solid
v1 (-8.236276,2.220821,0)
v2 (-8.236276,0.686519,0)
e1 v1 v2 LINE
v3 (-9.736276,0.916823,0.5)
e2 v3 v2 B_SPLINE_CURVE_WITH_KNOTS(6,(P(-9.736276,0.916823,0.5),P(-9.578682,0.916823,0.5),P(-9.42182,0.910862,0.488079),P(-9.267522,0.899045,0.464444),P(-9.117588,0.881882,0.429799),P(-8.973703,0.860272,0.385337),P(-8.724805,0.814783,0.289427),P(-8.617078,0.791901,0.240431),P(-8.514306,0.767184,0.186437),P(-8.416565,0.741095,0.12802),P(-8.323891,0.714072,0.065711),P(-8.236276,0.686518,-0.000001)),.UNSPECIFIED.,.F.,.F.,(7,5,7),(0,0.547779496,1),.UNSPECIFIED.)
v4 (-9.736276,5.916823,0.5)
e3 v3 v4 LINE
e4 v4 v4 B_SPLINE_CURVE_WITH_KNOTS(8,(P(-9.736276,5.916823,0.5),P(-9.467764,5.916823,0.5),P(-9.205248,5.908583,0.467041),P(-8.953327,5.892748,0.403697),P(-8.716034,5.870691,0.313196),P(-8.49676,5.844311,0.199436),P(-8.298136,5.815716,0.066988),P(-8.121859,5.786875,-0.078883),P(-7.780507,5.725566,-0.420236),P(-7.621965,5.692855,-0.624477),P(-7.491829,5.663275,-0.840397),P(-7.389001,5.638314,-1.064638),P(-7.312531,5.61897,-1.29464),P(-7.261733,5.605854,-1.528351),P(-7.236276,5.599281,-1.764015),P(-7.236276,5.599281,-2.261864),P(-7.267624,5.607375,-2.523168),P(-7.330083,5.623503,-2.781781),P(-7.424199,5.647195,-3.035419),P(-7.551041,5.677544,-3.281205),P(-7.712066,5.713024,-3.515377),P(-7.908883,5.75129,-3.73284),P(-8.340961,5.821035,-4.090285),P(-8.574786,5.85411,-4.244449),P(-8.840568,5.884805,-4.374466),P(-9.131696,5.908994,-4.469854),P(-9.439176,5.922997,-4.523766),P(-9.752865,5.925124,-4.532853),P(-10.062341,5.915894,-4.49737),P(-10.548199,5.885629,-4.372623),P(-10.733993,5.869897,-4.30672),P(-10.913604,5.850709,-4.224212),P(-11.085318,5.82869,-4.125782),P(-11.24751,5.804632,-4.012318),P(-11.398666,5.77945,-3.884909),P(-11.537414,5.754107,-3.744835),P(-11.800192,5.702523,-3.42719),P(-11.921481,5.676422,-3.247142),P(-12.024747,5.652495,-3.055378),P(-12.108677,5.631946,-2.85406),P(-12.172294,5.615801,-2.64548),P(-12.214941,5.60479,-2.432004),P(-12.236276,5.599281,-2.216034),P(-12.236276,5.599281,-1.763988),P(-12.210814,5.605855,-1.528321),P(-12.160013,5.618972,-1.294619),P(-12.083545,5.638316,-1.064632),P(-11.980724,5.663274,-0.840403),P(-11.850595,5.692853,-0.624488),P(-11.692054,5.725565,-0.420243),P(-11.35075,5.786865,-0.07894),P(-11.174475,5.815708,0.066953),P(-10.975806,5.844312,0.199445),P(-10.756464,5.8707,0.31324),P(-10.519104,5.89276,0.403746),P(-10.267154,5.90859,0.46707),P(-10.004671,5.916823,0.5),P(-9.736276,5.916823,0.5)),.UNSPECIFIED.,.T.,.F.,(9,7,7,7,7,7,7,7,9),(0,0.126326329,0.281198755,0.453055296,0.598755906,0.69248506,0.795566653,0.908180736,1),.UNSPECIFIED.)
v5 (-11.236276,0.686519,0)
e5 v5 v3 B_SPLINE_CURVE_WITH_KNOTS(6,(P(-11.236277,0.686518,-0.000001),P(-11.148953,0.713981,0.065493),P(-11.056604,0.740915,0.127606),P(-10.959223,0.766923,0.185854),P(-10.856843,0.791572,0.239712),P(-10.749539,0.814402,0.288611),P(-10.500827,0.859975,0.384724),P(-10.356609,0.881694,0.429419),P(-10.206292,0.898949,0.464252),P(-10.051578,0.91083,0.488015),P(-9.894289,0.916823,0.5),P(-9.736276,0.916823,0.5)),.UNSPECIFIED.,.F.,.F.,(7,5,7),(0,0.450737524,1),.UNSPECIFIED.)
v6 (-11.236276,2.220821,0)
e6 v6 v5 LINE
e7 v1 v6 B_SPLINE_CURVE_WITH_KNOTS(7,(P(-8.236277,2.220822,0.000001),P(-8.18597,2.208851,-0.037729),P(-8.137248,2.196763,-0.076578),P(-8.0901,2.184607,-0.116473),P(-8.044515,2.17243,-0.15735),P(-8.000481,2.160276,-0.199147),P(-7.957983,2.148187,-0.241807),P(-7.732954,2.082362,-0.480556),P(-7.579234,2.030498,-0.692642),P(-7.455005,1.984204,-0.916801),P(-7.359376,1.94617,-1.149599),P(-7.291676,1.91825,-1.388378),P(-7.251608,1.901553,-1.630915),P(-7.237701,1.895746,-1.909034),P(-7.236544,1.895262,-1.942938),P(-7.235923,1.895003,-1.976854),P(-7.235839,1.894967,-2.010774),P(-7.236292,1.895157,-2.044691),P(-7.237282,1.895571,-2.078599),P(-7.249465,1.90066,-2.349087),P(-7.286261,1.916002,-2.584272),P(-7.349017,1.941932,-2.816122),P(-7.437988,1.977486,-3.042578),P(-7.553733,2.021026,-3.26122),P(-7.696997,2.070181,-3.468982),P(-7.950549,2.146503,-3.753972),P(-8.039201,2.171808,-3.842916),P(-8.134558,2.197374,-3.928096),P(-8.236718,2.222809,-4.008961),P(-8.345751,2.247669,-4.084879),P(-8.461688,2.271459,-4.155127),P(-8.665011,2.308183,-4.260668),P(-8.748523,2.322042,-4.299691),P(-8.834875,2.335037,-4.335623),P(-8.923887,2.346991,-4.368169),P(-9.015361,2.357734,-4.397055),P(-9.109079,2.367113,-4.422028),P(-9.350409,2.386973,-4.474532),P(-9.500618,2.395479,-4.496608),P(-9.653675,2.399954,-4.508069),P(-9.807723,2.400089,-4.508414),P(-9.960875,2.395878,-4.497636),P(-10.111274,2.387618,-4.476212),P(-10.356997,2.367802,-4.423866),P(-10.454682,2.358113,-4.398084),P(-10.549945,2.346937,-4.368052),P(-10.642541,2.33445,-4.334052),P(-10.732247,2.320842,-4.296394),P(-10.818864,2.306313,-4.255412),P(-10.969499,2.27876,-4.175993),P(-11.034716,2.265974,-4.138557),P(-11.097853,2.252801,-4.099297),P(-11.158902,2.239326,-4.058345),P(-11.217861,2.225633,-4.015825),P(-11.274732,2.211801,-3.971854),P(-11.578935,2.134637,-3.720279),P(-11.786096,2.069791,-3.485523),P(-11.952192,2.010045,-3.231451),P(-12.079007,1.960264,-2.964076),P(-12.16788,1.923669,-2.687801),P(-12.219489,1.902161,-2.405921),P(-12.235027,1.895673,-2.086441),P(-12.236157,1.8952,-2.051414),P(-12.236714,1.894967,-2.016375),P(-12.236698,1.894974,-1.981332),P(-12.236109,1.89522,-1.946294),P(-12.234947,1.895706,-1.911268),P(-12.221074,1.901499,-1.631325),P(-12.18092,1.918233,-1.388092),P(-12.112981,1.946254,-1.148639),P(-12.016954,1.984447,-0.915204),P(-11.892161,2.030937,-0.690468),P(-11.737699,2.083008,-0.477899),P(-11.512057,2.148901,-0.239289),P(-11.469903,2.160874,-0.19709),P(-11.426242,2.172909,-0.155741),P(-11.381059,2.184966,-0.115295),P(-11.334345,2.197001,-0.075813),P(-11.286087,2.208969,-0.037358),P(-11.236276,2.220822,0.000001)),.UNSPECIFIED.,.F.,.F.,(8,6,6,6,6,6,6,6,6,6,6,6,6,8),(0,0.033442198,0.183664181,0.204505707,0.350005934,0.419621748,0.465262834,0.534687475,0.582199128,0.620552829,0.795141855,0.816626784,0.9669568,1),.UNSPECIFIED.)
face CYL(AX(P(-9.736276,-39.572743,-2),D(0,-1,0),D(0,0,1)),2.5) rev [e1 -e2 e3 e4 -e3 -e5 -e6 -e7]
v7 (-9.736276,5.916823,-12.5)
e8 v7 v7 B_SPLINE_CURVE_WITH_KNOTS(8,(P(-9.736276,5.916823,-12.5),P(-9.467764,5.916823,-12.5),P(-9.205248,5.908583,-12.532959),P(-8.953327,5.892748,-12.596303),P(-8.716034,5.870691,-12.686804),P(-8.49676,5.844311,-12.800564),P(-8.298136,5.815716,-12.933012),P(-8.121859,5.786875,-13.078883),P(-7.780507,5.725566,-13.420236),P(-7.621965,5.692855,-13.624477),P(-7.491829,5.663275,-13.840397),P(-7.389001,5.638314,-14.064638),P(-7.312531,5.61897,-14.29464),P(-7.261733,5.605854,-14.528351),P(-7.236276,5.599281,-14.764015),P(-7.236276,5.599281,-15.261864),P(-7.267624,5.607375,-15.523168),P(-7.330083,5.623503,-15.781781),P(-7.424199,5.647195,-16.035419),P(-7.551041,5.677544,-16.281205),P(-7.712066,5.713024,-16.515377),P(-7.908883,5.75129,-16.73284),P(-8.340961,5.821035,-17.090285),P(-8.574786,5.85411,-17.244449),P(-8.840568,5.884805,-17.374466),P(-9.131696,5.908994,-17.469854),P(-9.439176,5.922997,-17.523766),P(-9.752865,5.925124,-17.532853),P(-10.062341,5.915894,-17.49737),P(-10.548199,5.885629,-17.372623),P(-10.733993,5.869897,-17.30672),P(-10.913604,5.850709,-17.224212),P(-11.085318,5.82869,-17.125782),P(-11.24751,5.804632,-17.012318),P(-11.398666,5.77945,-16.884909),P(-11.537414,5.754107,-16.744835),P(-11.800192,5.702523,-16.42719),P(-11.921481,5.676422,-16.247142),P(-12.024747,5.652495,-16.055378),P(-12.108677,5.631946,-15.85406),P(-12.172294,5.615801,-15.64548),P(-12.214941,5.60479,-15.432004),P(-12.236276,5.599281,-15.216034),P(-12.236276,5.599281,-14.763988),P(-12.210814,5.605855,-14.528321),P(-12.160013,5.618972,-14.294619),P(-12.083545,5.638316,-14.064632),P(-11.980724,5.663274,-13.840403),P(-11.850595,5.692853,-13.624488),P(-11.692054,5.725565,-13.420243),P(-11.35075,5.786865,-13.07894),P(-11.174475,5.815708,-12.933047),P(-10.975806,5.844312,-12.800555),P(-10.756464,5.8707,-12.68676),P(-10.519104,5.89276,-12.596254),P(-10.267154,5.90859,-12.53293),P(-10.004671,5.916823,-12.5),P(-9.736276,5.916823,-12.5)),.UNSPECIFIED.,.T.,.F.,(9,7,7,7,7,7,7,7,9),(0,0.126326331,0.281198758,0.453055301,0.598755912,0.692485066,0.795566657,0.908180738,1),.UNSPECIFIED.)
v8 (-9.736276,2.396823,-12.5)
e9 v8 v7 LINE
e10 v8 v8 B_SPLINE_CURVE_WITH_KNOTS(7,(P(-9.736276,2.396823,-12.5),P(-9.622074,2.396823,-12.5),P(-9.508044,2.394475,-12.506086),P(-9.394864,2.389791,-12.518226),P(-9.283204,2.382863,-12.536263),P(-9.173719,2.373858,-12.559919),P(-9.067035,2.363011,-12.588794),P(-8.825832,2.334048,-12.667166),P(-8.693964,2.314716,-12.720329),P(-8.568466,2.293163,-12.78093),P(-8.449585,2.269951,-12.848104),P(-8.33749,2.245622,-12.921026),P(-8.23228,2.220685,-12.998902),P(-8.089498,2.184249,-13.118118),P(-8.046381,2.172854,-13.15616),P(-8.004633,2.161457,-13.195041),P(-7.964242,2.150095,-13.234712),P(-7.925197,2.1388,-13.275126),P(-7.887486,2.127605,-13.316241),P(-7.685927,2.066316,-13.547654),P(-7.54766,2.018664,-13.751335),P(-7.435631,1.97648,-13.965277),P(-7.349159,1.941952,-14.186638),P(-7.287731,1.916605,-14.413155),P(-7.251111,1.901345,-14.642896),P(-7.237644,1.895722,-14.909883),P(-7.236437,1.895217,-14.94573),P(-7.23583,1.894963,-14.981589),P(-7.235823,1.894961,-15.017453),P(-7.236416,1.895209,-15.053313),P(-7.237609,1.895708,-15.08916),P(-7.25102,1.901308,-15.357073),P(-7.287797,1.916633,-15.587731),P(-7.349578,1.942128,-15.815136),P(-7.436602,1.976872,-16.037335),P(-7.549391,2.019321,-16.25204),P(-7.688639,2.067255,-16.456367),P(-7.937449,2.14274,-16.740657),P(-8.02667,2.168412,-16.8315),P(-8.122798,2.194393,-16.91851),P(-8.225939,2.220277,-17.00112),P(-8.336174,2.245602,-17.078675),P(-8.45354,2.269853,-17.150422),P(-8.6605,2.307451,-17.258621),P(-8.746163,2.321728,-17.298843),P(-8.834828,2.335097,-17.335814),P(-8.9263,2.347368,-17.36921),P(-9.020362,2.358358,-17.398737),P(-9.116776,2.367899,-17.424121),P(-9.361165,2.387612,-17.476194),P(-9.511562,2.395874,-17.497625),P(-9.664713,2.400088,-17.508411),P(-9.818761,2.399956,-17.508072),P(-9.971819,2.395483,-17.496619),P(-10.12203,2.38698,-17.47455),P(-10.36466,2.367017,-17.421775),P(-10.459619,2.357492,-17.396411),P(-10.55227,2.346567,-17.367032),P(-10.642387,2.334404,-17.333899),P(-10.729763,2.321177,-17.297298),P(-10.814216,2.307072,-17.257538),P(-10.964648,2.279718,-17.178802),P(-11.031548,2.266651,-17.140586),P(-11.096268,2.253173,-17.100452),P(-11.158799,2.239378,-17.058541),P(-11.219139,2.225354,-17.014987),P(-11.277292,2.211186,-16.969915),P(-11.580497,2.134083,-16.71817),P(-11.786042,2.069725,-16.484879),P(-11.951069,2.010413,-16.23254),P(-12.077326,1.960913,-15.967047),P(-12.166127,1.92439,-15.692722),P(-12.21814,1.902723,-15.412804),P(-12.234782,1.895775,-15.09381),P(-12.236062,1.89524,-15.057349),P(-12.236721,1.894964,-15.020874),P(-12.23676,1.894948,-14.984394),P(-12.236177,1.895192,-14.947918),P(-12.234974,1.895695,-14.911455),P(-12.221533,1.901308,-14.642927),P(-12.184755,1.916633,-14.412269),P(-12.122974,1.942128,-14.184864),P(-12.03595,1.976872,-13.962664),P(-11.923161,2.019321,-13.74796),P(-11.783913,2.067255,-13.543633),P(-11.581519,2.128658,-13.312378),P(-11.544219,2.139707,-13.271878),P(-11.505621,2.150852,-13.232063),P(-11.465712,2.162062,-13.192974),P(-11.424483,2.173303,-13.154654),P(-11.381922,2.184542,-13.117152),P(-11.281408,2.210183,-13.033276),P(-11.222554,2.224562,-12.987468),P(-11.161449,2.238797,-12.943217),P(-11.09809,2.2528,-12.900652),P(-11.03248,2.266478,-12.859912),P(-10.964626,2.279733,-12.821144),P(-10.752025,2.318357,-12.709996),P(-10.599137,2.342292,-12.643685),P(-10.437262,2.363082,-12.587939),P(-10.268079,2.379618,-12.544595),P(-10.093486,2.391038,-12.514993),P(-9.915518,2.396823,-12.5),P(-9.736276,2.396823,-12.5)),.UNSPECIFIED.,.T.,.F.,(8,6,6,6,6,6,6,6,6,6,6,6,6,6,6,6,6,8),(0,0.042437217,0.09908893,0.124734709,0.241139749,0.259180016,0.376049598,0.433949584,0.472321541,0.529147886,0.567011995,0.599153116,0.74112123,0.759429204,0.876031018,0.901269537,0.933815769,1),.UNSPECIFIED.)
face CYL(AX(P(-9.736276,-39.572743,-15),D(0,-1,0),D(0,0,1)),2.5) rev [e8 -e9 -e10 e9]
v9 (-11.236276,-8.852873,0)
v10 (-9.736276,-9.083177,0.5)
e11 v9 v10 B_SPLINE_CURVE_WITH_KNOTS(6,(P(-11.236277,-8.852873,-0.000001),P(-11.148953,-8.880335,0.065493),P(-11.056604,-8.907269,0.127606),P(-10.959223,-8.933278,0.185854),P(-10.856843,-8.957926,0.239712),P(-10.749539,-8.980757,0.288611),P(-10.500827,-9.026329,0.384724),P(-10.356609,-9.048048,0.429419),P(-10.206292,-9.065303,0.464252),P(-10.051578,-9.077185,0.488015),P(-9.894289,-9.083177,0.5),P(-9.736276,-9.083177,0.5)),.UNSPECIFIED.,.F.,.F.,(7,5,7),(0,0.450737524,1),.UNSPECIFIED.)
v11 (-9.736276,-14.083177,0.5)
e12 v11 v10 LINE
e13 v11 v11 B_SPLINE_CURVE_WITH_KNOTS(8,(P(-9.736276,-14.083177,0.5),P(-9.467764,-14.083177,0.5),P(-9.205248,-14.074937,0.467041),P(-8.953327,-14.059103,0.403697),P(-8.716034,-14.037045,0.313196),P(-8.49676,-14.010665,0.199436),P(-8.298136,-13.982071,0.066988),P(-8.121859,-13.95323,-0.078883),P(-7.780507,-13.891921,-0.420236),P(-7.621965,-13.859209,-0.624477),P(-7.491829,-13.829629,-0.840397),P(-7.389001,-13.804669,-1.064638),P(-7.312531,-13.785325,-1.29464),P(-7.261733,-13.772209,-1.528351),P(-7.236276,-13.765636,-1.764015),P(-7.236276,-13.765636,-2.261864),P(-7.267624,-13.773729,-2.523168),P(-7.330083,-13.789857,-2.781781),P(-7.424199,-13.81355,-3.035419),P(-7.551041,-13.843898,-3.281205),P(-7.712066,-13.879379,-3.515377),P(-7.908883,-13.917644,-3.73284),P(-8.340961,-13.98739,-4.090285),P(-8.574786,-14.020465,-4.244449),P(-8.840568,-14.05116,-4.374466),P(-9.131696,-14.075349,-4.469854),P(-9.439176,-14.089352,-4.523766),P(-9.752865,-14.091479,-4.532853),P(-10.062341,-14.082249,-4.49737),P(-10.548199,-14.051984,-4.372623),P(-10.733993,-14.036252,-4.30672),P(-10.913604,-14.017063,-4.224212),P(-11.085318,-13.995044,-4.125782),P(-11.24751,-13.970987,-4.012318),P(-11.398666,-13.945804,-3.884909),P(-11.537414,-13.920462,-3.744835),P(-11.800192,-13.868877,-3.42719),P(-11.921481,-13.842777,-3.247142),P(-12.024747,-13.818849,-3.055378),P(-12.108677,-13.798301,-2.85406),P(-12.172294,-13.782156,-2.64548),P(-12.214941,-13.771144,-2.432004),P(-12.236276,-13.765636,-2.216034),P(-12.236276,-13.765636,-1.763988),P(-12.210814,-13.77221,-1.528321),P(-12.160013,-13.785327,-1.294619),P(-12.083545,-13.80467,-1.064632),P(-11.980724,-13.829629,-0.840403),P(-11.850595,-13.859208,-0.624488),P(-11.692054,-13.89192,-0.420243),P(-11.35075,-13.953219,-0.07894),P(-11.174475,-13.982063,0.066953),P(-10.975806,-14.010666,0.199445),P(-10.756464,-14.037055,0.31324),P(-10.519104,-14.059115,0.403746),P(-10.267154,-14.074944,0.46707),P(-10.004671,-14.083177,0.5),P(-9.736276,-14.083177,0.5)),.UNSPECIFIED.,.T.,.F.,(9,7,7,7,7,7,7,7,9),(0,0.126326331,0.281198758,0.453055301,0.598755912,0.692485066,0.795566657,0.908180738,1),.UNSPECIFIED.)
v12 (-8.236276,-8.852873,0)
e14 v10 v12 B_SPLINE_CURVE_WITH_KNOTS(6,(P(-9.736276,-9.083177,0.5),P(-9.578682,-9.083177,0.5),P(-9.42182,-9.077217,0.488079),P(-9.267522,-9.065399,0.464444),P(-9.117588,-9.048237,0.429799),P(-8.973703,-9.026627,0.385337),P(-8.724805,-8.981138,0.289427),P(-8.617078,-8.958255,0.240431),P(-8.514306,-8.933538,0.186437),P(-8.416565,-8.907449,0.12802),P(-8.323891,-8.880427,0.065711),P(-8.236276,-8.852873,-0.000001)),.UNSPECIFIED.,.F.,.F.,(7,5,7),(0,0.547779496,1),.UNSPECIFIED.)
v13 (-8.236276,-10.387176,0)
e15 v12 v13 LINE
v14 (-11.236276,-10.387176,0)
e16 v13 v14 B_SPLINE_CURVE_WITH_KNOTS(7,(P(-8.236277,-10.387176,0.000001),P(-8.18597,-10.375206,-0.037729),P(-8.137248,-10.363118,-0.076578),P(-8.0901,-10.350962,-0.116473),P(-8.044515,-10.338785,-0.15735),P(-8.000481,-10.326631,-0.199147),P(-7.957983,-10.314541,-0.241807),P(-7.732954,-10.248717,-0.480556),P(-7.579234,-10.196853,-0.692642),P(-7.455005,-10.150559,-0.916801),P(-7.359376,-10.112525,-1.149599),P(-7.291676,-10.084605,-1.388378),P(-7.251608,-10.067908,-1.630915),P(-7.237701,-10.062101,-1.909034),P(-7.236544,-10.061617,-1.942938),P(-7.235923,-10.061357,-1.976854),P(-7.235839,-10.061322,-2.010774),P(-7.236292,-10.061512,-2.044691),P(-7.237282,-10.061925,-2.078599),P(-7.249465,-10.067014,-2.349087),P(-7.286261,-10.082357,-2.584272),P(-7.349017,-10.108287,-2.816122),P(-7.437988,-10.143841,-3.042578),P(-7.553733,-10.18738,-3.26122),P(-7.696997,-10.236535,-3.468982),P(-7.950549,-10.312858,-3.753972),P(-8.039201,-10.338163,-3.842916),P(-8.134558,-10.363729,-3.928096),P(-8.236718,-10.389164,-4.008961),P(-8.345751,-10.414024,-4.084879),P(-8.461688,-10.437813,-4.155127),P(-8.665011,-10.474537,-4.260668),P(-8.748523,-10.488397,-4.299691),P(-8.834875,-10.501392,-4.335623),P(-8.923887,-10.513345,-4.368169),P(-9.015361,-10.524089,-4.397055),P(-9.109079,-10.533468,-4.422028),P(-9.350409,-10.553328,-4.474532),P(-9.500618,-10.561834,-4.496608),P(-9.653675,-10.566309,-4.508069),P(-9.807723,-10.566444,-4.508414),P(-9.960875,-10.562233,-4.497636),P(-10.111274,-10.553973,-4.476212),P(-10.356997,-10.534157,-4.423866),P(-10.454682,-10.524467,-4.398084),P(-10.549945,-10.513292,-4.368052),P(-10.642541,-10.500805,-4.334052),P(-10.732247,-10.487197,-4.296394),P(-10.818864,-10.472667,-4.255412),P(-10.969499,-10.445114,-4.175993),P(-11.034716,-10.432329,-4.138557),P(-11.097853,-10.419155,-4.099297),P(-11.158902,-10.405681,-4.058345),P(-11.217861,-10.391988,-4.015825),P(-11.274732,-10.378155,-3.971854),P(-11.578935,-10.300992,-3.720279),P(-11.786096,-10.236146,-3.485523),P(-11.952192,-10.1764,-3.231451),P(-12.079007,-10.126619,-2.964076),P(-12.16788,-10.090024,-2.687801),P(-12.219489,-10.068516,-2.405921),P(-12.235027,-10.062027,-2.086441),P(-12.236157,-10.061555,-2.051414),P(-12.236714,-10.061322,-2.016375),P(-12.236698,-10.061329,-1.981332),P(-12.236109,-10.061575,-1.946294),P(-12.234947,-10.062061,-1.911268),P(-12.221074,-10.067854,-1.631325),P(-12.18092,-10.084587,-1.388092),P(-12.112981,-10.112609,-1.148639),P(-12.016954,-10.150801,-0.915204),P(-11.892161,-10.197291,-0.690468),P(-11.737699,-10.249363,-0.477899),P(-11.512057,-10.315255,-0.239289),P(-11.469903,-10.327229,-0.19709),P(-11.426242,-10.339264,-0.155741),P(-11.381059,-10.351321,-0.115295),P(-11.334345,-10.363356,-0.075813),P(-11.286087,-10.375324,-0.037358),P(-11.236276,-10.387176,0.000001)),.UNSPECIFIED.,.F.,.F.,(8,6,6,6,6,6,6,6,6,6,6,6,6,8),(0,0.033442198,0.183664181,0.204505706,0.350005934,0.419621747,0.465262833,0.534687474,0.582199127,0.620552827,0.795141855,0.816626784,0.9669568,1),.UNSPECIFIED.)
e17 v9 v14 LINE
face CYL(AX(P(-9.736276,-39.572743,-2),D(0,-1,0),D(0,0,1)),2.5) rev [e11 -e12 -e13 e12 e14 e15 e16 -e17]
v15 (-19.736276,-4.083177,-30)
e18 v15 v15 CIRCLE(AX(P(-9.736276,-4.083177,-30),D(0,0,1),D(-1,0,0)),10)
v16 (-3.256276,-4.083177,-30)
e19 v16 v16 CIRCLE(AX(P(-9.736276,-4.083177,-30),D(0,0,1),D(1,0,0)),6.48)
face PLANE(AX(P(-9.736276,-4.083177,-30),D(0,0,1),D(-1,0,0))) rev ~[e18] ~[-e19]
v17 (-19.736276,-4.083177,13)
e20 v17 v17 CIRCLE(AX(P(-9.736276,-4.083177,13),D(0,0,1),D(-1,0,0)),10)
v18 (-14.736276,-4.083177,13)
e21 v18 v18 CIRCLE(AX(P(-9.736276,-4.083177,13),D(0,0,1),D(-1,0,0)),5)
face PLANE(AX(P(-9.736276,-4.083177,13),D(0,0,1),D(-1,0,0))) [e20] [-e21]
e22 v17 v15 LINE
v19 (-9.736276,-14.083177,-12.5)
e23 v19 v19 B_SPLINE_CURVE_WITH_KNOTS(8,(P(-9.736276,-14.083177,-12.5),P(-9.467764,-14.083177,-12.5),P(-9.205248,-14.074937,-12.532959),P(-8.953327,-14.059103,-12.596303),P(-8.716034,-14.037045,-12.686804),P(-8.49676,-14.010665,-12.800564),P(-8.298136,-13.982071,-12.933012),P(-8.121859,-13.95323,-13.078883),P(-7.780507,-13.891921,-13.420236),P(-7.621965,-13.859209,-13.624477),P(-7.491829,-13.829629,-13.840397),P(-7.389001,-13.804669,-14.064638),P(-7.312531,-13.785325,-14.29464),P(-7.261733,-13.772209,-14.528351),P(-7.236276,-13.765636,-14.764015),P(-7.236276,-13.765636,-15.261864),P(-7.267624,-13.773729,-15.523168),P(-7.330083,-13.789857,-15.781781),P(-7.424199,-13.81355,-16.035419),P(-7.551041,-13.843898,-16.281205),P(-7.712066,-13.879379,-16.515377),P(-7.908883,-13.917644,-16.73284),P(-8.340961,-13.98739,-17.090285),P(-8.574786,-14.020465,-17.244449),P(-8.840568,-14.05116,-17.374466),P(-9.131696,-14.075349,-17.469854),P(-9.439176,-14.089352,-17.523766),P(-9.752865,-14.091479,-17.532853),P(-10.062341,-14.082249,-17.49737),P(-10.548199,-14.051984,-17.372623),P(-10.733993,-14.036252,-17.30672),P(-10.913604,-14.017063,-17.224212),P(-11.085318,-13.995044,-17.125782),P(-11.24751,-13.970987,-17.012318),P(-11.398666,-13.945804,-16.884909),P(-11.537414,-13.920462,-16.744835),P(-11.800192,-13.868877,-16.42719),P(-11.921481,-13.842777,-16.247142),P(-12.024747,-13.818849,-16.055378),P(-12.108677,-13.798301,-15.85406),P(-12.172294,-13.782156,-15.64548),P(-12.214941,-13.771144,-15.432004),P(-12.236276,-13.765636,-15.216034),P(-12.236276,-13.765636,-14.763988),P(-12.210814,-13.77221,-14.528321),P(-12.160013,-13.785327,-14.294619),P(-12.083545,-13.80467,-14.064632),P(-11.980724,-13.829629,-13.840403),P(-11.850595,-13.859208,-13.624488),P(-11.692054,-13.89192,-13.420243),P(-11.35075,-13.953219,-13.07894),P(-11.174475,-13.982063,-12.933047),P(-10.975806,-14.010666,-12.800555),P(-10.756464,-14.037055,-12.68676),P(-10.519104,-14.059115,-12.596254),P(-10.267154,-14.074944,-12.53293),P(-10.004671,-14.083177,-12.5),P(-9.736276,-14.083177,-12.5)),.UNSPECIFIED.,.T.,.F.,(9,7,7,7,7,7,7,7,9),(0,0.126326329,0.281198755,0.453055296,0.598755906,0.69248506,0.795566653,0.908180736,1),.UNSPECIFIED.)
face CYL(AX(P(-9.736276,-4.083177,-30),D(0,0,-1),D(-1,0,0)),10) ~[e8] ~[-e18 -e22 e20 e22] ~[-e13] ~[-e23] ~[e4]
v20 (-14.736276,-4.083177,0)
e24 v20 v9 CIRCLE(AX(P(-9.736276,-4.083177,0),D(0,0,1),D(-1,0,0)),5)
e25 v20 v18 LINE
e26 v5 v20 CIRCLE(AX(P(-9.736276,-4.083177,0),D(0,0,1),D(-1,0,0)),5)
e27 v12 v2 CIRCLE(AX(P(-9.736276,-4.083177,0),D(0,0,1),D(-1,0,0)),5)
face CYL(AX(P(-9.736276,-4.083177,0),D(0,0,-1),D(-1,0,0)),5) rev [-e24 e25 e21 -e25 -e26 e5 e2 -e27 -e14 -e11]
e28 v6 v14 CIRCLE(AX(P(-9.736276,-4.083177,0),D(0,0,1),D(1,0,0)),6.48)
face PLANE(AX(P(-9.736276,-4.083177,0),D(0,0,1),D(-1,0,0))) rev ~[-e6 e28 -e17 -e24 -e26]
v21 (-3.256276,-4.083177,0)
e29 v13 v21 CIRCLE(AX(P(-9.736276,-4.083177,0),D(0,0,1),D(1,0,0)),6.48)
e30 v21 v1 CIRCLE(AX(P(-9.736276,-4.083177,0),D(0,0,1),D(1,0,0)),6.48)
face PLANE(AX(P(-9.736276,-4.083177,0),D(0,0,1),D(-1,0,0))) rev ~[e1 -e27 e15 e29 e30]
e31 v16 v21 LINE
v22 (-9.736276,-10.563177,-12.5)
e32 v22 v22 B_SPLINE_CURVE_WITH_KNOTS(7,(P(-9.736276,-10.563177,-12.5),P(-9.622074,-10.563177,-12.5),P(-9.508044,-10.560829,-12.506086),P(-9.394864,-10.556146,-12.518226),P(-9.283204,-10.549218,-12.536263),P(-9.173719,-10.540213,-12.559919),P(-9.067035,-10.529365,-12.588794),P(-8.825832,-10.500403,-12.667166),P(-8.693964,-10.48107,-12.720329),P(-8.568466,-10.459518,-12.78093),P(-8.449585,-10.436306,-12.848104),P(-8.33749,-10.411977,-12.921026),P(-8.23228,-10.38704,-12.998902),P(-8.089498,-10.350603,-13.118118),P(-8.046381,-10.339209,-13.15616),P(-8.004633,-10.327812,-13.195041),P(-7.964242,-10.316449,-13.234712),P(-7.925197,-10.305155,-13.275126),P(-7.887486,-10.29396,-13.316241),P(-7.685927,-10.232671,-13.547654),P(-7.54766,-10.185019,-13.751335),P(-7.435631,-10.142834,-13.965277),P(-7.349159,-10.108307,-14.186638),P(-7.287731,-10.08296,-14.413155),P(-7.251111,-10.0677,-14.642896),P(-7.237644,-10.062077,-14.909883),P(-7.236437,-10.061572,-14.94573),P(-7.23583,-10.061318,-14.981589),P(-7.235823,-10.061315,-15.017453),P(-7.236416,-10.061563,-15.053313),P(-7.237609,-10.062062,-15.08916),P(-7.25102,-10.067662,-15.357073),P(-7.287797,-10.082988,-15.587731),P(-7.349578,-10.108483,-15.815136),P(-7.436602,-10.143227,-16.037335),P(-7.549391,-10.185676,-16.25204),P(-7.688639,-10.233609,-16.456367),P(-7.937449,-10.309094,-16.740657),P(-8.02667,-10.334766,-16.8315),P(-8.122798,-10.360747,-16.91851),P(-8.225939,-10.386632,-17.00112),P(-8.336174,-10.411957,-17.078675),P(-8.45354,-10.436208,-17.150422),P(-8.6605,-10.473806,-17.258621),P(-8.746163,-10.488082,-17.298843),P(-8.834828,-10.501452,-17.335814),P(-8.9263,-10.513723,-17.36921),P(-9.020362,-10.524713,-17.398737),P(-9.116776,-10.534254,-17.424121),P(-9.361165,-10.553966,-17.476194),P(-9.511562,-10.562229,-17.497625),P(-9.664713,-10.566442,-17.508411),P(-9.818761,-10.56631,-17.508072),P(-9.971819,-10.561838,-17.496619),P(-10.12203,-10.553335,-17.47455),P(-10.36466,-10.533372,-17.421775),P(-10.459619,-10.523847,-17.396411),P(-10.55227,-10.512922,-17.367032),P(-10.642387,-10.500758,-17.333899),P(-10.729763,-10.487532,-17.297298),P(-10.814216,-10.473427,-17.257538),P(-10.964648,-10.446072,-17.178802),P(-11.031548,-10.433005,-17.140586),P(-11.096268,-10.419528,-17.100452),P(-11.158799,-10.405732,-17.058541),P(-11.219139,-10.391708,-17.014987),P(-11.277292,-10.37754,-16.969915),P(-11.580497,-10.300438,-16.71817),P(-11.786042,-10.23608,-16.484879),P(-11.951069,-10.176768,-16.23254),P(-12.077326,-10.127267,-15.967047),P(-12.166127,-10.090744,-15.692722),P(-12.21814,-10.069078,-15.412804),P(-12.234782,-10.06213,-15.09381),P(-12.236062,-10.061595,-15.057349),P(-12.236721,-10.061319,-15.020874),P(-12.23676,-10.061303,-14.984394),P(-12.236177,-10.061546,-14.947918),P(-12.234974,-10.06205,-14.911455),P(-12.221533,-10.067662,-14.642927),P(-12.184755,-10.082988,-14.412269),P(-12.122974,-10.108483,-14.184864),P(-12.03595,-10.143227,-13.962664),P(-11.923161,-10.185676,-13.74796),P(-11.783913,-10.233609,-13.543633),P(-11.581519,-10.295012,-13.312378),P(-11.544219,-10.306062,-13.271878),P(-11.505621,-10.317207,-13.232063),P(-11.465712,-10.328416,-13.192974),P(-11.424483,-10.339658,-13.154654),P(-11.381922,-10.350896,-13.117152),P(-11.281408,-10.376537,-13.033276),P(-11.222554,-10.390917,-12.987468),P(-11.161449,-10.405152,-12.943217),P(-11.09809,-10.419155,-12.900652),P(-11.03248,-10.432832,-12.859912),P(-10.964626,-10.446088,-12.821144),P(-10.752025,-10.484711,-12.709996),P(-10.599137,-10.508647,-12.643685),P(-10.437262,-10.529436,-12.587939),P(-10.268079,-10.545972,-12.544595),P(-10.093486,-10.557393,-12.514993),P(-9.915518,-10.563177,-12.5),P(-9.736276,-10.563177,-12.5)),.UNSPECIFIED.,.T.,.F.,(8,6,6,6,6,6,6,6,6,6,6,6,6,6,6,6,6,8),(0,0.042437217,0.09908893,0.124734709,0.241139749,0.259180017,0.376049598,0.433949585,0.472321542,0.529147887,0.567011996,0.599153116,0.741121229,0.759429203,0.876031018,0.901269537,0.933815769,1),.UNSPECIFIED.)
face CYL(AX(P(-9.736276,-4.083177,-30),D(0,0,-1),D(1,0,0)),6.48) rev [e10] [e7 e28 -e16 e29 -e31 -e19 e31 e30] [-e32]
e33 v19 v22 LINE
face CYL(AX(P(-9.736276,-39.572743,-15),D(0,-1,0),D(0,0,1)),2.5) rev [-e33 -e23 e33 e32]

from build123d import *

# Parameters (mm, degrees)
CROQUIS1_R                 = 10
CROQUIS1_R_2               = 5
SALIENTE_EXTRUIR1_DEPTH    = 13
SALIENTE_EXTRUIR2_START    = -30
CROQUIS2_R                 = 10
CROQUIS2_R_2               = 6.48
SALIENTE_EXTRUIR2_DEPTH    = 30
CORTAR_EXTRUIR1_DEPTH      = 39.57274278
CORTAR_EXTRUIR1_DEPTH_BACK = 39.57274278
CROQUIS3_R                 = 2.5


with BuildPart() as part:
    # Croquis1 → Saliente-Extruir1 (new body)
    with BuildSketch(Plane.XY):
        with Locations(Location((-9.736276302, -4.083177315, 0), (0, 0, 180))):
            Circle(CROQUIS1_R)
        with Locations(Location((-9.736276302, -4.083177315, 0), (0, 0, 180))):
            Circle(CROQUIS1_R_2, mode=Mode.SUBTRACT)
    extrude(amount=SALIENTE_EXTRUIR1_DEPTH)

    # Croquis2 → Saliente-Extruir2 (add)
    with BuildSketch(Plane.XY.offset(SALIENTE_EXTRUIR2_START)):
        with Locations(Location((-9.736276302, -4.083177315, 0), (0, 0, 180))):
            Circle(CROQUIS2_R)
        with Locations((-9.736276302, -4.083177315)):
            Circle(CROQUIS2_R_2, mode=Mode.SUBTRACT)
    extrude(amount=SALIENTE_EXTRUIR2_DEPTH)

    # Croquis3 → Cortar-Extruir1 (cut, two sides: drawn at the far end of the back side and taken through both)
    with BuildSketch(Plane(origin=(0, 0, 0), x_dir=(1, 0, 0), z_dir=(0, 1, 0)).offset(-CORTAR_EXTRUIR1_DEPTH_BACK)):
        with Locations(Location((-9.736276302, 15, 0), (0, 0, 270))):
            Circle(CROQUIS3_R)
        with Locations(Location((-9.736276302, 2, 0), (0, 0, 270))):
            Circle(CROQUIS3_R)
    extrude(amount=CORTAR_EXTRUIR1_DEPTH + CORTAR_EXTRUIR1_DEPTH_BACK, mode=Mode.SUBTRACT)


solid = part.part
